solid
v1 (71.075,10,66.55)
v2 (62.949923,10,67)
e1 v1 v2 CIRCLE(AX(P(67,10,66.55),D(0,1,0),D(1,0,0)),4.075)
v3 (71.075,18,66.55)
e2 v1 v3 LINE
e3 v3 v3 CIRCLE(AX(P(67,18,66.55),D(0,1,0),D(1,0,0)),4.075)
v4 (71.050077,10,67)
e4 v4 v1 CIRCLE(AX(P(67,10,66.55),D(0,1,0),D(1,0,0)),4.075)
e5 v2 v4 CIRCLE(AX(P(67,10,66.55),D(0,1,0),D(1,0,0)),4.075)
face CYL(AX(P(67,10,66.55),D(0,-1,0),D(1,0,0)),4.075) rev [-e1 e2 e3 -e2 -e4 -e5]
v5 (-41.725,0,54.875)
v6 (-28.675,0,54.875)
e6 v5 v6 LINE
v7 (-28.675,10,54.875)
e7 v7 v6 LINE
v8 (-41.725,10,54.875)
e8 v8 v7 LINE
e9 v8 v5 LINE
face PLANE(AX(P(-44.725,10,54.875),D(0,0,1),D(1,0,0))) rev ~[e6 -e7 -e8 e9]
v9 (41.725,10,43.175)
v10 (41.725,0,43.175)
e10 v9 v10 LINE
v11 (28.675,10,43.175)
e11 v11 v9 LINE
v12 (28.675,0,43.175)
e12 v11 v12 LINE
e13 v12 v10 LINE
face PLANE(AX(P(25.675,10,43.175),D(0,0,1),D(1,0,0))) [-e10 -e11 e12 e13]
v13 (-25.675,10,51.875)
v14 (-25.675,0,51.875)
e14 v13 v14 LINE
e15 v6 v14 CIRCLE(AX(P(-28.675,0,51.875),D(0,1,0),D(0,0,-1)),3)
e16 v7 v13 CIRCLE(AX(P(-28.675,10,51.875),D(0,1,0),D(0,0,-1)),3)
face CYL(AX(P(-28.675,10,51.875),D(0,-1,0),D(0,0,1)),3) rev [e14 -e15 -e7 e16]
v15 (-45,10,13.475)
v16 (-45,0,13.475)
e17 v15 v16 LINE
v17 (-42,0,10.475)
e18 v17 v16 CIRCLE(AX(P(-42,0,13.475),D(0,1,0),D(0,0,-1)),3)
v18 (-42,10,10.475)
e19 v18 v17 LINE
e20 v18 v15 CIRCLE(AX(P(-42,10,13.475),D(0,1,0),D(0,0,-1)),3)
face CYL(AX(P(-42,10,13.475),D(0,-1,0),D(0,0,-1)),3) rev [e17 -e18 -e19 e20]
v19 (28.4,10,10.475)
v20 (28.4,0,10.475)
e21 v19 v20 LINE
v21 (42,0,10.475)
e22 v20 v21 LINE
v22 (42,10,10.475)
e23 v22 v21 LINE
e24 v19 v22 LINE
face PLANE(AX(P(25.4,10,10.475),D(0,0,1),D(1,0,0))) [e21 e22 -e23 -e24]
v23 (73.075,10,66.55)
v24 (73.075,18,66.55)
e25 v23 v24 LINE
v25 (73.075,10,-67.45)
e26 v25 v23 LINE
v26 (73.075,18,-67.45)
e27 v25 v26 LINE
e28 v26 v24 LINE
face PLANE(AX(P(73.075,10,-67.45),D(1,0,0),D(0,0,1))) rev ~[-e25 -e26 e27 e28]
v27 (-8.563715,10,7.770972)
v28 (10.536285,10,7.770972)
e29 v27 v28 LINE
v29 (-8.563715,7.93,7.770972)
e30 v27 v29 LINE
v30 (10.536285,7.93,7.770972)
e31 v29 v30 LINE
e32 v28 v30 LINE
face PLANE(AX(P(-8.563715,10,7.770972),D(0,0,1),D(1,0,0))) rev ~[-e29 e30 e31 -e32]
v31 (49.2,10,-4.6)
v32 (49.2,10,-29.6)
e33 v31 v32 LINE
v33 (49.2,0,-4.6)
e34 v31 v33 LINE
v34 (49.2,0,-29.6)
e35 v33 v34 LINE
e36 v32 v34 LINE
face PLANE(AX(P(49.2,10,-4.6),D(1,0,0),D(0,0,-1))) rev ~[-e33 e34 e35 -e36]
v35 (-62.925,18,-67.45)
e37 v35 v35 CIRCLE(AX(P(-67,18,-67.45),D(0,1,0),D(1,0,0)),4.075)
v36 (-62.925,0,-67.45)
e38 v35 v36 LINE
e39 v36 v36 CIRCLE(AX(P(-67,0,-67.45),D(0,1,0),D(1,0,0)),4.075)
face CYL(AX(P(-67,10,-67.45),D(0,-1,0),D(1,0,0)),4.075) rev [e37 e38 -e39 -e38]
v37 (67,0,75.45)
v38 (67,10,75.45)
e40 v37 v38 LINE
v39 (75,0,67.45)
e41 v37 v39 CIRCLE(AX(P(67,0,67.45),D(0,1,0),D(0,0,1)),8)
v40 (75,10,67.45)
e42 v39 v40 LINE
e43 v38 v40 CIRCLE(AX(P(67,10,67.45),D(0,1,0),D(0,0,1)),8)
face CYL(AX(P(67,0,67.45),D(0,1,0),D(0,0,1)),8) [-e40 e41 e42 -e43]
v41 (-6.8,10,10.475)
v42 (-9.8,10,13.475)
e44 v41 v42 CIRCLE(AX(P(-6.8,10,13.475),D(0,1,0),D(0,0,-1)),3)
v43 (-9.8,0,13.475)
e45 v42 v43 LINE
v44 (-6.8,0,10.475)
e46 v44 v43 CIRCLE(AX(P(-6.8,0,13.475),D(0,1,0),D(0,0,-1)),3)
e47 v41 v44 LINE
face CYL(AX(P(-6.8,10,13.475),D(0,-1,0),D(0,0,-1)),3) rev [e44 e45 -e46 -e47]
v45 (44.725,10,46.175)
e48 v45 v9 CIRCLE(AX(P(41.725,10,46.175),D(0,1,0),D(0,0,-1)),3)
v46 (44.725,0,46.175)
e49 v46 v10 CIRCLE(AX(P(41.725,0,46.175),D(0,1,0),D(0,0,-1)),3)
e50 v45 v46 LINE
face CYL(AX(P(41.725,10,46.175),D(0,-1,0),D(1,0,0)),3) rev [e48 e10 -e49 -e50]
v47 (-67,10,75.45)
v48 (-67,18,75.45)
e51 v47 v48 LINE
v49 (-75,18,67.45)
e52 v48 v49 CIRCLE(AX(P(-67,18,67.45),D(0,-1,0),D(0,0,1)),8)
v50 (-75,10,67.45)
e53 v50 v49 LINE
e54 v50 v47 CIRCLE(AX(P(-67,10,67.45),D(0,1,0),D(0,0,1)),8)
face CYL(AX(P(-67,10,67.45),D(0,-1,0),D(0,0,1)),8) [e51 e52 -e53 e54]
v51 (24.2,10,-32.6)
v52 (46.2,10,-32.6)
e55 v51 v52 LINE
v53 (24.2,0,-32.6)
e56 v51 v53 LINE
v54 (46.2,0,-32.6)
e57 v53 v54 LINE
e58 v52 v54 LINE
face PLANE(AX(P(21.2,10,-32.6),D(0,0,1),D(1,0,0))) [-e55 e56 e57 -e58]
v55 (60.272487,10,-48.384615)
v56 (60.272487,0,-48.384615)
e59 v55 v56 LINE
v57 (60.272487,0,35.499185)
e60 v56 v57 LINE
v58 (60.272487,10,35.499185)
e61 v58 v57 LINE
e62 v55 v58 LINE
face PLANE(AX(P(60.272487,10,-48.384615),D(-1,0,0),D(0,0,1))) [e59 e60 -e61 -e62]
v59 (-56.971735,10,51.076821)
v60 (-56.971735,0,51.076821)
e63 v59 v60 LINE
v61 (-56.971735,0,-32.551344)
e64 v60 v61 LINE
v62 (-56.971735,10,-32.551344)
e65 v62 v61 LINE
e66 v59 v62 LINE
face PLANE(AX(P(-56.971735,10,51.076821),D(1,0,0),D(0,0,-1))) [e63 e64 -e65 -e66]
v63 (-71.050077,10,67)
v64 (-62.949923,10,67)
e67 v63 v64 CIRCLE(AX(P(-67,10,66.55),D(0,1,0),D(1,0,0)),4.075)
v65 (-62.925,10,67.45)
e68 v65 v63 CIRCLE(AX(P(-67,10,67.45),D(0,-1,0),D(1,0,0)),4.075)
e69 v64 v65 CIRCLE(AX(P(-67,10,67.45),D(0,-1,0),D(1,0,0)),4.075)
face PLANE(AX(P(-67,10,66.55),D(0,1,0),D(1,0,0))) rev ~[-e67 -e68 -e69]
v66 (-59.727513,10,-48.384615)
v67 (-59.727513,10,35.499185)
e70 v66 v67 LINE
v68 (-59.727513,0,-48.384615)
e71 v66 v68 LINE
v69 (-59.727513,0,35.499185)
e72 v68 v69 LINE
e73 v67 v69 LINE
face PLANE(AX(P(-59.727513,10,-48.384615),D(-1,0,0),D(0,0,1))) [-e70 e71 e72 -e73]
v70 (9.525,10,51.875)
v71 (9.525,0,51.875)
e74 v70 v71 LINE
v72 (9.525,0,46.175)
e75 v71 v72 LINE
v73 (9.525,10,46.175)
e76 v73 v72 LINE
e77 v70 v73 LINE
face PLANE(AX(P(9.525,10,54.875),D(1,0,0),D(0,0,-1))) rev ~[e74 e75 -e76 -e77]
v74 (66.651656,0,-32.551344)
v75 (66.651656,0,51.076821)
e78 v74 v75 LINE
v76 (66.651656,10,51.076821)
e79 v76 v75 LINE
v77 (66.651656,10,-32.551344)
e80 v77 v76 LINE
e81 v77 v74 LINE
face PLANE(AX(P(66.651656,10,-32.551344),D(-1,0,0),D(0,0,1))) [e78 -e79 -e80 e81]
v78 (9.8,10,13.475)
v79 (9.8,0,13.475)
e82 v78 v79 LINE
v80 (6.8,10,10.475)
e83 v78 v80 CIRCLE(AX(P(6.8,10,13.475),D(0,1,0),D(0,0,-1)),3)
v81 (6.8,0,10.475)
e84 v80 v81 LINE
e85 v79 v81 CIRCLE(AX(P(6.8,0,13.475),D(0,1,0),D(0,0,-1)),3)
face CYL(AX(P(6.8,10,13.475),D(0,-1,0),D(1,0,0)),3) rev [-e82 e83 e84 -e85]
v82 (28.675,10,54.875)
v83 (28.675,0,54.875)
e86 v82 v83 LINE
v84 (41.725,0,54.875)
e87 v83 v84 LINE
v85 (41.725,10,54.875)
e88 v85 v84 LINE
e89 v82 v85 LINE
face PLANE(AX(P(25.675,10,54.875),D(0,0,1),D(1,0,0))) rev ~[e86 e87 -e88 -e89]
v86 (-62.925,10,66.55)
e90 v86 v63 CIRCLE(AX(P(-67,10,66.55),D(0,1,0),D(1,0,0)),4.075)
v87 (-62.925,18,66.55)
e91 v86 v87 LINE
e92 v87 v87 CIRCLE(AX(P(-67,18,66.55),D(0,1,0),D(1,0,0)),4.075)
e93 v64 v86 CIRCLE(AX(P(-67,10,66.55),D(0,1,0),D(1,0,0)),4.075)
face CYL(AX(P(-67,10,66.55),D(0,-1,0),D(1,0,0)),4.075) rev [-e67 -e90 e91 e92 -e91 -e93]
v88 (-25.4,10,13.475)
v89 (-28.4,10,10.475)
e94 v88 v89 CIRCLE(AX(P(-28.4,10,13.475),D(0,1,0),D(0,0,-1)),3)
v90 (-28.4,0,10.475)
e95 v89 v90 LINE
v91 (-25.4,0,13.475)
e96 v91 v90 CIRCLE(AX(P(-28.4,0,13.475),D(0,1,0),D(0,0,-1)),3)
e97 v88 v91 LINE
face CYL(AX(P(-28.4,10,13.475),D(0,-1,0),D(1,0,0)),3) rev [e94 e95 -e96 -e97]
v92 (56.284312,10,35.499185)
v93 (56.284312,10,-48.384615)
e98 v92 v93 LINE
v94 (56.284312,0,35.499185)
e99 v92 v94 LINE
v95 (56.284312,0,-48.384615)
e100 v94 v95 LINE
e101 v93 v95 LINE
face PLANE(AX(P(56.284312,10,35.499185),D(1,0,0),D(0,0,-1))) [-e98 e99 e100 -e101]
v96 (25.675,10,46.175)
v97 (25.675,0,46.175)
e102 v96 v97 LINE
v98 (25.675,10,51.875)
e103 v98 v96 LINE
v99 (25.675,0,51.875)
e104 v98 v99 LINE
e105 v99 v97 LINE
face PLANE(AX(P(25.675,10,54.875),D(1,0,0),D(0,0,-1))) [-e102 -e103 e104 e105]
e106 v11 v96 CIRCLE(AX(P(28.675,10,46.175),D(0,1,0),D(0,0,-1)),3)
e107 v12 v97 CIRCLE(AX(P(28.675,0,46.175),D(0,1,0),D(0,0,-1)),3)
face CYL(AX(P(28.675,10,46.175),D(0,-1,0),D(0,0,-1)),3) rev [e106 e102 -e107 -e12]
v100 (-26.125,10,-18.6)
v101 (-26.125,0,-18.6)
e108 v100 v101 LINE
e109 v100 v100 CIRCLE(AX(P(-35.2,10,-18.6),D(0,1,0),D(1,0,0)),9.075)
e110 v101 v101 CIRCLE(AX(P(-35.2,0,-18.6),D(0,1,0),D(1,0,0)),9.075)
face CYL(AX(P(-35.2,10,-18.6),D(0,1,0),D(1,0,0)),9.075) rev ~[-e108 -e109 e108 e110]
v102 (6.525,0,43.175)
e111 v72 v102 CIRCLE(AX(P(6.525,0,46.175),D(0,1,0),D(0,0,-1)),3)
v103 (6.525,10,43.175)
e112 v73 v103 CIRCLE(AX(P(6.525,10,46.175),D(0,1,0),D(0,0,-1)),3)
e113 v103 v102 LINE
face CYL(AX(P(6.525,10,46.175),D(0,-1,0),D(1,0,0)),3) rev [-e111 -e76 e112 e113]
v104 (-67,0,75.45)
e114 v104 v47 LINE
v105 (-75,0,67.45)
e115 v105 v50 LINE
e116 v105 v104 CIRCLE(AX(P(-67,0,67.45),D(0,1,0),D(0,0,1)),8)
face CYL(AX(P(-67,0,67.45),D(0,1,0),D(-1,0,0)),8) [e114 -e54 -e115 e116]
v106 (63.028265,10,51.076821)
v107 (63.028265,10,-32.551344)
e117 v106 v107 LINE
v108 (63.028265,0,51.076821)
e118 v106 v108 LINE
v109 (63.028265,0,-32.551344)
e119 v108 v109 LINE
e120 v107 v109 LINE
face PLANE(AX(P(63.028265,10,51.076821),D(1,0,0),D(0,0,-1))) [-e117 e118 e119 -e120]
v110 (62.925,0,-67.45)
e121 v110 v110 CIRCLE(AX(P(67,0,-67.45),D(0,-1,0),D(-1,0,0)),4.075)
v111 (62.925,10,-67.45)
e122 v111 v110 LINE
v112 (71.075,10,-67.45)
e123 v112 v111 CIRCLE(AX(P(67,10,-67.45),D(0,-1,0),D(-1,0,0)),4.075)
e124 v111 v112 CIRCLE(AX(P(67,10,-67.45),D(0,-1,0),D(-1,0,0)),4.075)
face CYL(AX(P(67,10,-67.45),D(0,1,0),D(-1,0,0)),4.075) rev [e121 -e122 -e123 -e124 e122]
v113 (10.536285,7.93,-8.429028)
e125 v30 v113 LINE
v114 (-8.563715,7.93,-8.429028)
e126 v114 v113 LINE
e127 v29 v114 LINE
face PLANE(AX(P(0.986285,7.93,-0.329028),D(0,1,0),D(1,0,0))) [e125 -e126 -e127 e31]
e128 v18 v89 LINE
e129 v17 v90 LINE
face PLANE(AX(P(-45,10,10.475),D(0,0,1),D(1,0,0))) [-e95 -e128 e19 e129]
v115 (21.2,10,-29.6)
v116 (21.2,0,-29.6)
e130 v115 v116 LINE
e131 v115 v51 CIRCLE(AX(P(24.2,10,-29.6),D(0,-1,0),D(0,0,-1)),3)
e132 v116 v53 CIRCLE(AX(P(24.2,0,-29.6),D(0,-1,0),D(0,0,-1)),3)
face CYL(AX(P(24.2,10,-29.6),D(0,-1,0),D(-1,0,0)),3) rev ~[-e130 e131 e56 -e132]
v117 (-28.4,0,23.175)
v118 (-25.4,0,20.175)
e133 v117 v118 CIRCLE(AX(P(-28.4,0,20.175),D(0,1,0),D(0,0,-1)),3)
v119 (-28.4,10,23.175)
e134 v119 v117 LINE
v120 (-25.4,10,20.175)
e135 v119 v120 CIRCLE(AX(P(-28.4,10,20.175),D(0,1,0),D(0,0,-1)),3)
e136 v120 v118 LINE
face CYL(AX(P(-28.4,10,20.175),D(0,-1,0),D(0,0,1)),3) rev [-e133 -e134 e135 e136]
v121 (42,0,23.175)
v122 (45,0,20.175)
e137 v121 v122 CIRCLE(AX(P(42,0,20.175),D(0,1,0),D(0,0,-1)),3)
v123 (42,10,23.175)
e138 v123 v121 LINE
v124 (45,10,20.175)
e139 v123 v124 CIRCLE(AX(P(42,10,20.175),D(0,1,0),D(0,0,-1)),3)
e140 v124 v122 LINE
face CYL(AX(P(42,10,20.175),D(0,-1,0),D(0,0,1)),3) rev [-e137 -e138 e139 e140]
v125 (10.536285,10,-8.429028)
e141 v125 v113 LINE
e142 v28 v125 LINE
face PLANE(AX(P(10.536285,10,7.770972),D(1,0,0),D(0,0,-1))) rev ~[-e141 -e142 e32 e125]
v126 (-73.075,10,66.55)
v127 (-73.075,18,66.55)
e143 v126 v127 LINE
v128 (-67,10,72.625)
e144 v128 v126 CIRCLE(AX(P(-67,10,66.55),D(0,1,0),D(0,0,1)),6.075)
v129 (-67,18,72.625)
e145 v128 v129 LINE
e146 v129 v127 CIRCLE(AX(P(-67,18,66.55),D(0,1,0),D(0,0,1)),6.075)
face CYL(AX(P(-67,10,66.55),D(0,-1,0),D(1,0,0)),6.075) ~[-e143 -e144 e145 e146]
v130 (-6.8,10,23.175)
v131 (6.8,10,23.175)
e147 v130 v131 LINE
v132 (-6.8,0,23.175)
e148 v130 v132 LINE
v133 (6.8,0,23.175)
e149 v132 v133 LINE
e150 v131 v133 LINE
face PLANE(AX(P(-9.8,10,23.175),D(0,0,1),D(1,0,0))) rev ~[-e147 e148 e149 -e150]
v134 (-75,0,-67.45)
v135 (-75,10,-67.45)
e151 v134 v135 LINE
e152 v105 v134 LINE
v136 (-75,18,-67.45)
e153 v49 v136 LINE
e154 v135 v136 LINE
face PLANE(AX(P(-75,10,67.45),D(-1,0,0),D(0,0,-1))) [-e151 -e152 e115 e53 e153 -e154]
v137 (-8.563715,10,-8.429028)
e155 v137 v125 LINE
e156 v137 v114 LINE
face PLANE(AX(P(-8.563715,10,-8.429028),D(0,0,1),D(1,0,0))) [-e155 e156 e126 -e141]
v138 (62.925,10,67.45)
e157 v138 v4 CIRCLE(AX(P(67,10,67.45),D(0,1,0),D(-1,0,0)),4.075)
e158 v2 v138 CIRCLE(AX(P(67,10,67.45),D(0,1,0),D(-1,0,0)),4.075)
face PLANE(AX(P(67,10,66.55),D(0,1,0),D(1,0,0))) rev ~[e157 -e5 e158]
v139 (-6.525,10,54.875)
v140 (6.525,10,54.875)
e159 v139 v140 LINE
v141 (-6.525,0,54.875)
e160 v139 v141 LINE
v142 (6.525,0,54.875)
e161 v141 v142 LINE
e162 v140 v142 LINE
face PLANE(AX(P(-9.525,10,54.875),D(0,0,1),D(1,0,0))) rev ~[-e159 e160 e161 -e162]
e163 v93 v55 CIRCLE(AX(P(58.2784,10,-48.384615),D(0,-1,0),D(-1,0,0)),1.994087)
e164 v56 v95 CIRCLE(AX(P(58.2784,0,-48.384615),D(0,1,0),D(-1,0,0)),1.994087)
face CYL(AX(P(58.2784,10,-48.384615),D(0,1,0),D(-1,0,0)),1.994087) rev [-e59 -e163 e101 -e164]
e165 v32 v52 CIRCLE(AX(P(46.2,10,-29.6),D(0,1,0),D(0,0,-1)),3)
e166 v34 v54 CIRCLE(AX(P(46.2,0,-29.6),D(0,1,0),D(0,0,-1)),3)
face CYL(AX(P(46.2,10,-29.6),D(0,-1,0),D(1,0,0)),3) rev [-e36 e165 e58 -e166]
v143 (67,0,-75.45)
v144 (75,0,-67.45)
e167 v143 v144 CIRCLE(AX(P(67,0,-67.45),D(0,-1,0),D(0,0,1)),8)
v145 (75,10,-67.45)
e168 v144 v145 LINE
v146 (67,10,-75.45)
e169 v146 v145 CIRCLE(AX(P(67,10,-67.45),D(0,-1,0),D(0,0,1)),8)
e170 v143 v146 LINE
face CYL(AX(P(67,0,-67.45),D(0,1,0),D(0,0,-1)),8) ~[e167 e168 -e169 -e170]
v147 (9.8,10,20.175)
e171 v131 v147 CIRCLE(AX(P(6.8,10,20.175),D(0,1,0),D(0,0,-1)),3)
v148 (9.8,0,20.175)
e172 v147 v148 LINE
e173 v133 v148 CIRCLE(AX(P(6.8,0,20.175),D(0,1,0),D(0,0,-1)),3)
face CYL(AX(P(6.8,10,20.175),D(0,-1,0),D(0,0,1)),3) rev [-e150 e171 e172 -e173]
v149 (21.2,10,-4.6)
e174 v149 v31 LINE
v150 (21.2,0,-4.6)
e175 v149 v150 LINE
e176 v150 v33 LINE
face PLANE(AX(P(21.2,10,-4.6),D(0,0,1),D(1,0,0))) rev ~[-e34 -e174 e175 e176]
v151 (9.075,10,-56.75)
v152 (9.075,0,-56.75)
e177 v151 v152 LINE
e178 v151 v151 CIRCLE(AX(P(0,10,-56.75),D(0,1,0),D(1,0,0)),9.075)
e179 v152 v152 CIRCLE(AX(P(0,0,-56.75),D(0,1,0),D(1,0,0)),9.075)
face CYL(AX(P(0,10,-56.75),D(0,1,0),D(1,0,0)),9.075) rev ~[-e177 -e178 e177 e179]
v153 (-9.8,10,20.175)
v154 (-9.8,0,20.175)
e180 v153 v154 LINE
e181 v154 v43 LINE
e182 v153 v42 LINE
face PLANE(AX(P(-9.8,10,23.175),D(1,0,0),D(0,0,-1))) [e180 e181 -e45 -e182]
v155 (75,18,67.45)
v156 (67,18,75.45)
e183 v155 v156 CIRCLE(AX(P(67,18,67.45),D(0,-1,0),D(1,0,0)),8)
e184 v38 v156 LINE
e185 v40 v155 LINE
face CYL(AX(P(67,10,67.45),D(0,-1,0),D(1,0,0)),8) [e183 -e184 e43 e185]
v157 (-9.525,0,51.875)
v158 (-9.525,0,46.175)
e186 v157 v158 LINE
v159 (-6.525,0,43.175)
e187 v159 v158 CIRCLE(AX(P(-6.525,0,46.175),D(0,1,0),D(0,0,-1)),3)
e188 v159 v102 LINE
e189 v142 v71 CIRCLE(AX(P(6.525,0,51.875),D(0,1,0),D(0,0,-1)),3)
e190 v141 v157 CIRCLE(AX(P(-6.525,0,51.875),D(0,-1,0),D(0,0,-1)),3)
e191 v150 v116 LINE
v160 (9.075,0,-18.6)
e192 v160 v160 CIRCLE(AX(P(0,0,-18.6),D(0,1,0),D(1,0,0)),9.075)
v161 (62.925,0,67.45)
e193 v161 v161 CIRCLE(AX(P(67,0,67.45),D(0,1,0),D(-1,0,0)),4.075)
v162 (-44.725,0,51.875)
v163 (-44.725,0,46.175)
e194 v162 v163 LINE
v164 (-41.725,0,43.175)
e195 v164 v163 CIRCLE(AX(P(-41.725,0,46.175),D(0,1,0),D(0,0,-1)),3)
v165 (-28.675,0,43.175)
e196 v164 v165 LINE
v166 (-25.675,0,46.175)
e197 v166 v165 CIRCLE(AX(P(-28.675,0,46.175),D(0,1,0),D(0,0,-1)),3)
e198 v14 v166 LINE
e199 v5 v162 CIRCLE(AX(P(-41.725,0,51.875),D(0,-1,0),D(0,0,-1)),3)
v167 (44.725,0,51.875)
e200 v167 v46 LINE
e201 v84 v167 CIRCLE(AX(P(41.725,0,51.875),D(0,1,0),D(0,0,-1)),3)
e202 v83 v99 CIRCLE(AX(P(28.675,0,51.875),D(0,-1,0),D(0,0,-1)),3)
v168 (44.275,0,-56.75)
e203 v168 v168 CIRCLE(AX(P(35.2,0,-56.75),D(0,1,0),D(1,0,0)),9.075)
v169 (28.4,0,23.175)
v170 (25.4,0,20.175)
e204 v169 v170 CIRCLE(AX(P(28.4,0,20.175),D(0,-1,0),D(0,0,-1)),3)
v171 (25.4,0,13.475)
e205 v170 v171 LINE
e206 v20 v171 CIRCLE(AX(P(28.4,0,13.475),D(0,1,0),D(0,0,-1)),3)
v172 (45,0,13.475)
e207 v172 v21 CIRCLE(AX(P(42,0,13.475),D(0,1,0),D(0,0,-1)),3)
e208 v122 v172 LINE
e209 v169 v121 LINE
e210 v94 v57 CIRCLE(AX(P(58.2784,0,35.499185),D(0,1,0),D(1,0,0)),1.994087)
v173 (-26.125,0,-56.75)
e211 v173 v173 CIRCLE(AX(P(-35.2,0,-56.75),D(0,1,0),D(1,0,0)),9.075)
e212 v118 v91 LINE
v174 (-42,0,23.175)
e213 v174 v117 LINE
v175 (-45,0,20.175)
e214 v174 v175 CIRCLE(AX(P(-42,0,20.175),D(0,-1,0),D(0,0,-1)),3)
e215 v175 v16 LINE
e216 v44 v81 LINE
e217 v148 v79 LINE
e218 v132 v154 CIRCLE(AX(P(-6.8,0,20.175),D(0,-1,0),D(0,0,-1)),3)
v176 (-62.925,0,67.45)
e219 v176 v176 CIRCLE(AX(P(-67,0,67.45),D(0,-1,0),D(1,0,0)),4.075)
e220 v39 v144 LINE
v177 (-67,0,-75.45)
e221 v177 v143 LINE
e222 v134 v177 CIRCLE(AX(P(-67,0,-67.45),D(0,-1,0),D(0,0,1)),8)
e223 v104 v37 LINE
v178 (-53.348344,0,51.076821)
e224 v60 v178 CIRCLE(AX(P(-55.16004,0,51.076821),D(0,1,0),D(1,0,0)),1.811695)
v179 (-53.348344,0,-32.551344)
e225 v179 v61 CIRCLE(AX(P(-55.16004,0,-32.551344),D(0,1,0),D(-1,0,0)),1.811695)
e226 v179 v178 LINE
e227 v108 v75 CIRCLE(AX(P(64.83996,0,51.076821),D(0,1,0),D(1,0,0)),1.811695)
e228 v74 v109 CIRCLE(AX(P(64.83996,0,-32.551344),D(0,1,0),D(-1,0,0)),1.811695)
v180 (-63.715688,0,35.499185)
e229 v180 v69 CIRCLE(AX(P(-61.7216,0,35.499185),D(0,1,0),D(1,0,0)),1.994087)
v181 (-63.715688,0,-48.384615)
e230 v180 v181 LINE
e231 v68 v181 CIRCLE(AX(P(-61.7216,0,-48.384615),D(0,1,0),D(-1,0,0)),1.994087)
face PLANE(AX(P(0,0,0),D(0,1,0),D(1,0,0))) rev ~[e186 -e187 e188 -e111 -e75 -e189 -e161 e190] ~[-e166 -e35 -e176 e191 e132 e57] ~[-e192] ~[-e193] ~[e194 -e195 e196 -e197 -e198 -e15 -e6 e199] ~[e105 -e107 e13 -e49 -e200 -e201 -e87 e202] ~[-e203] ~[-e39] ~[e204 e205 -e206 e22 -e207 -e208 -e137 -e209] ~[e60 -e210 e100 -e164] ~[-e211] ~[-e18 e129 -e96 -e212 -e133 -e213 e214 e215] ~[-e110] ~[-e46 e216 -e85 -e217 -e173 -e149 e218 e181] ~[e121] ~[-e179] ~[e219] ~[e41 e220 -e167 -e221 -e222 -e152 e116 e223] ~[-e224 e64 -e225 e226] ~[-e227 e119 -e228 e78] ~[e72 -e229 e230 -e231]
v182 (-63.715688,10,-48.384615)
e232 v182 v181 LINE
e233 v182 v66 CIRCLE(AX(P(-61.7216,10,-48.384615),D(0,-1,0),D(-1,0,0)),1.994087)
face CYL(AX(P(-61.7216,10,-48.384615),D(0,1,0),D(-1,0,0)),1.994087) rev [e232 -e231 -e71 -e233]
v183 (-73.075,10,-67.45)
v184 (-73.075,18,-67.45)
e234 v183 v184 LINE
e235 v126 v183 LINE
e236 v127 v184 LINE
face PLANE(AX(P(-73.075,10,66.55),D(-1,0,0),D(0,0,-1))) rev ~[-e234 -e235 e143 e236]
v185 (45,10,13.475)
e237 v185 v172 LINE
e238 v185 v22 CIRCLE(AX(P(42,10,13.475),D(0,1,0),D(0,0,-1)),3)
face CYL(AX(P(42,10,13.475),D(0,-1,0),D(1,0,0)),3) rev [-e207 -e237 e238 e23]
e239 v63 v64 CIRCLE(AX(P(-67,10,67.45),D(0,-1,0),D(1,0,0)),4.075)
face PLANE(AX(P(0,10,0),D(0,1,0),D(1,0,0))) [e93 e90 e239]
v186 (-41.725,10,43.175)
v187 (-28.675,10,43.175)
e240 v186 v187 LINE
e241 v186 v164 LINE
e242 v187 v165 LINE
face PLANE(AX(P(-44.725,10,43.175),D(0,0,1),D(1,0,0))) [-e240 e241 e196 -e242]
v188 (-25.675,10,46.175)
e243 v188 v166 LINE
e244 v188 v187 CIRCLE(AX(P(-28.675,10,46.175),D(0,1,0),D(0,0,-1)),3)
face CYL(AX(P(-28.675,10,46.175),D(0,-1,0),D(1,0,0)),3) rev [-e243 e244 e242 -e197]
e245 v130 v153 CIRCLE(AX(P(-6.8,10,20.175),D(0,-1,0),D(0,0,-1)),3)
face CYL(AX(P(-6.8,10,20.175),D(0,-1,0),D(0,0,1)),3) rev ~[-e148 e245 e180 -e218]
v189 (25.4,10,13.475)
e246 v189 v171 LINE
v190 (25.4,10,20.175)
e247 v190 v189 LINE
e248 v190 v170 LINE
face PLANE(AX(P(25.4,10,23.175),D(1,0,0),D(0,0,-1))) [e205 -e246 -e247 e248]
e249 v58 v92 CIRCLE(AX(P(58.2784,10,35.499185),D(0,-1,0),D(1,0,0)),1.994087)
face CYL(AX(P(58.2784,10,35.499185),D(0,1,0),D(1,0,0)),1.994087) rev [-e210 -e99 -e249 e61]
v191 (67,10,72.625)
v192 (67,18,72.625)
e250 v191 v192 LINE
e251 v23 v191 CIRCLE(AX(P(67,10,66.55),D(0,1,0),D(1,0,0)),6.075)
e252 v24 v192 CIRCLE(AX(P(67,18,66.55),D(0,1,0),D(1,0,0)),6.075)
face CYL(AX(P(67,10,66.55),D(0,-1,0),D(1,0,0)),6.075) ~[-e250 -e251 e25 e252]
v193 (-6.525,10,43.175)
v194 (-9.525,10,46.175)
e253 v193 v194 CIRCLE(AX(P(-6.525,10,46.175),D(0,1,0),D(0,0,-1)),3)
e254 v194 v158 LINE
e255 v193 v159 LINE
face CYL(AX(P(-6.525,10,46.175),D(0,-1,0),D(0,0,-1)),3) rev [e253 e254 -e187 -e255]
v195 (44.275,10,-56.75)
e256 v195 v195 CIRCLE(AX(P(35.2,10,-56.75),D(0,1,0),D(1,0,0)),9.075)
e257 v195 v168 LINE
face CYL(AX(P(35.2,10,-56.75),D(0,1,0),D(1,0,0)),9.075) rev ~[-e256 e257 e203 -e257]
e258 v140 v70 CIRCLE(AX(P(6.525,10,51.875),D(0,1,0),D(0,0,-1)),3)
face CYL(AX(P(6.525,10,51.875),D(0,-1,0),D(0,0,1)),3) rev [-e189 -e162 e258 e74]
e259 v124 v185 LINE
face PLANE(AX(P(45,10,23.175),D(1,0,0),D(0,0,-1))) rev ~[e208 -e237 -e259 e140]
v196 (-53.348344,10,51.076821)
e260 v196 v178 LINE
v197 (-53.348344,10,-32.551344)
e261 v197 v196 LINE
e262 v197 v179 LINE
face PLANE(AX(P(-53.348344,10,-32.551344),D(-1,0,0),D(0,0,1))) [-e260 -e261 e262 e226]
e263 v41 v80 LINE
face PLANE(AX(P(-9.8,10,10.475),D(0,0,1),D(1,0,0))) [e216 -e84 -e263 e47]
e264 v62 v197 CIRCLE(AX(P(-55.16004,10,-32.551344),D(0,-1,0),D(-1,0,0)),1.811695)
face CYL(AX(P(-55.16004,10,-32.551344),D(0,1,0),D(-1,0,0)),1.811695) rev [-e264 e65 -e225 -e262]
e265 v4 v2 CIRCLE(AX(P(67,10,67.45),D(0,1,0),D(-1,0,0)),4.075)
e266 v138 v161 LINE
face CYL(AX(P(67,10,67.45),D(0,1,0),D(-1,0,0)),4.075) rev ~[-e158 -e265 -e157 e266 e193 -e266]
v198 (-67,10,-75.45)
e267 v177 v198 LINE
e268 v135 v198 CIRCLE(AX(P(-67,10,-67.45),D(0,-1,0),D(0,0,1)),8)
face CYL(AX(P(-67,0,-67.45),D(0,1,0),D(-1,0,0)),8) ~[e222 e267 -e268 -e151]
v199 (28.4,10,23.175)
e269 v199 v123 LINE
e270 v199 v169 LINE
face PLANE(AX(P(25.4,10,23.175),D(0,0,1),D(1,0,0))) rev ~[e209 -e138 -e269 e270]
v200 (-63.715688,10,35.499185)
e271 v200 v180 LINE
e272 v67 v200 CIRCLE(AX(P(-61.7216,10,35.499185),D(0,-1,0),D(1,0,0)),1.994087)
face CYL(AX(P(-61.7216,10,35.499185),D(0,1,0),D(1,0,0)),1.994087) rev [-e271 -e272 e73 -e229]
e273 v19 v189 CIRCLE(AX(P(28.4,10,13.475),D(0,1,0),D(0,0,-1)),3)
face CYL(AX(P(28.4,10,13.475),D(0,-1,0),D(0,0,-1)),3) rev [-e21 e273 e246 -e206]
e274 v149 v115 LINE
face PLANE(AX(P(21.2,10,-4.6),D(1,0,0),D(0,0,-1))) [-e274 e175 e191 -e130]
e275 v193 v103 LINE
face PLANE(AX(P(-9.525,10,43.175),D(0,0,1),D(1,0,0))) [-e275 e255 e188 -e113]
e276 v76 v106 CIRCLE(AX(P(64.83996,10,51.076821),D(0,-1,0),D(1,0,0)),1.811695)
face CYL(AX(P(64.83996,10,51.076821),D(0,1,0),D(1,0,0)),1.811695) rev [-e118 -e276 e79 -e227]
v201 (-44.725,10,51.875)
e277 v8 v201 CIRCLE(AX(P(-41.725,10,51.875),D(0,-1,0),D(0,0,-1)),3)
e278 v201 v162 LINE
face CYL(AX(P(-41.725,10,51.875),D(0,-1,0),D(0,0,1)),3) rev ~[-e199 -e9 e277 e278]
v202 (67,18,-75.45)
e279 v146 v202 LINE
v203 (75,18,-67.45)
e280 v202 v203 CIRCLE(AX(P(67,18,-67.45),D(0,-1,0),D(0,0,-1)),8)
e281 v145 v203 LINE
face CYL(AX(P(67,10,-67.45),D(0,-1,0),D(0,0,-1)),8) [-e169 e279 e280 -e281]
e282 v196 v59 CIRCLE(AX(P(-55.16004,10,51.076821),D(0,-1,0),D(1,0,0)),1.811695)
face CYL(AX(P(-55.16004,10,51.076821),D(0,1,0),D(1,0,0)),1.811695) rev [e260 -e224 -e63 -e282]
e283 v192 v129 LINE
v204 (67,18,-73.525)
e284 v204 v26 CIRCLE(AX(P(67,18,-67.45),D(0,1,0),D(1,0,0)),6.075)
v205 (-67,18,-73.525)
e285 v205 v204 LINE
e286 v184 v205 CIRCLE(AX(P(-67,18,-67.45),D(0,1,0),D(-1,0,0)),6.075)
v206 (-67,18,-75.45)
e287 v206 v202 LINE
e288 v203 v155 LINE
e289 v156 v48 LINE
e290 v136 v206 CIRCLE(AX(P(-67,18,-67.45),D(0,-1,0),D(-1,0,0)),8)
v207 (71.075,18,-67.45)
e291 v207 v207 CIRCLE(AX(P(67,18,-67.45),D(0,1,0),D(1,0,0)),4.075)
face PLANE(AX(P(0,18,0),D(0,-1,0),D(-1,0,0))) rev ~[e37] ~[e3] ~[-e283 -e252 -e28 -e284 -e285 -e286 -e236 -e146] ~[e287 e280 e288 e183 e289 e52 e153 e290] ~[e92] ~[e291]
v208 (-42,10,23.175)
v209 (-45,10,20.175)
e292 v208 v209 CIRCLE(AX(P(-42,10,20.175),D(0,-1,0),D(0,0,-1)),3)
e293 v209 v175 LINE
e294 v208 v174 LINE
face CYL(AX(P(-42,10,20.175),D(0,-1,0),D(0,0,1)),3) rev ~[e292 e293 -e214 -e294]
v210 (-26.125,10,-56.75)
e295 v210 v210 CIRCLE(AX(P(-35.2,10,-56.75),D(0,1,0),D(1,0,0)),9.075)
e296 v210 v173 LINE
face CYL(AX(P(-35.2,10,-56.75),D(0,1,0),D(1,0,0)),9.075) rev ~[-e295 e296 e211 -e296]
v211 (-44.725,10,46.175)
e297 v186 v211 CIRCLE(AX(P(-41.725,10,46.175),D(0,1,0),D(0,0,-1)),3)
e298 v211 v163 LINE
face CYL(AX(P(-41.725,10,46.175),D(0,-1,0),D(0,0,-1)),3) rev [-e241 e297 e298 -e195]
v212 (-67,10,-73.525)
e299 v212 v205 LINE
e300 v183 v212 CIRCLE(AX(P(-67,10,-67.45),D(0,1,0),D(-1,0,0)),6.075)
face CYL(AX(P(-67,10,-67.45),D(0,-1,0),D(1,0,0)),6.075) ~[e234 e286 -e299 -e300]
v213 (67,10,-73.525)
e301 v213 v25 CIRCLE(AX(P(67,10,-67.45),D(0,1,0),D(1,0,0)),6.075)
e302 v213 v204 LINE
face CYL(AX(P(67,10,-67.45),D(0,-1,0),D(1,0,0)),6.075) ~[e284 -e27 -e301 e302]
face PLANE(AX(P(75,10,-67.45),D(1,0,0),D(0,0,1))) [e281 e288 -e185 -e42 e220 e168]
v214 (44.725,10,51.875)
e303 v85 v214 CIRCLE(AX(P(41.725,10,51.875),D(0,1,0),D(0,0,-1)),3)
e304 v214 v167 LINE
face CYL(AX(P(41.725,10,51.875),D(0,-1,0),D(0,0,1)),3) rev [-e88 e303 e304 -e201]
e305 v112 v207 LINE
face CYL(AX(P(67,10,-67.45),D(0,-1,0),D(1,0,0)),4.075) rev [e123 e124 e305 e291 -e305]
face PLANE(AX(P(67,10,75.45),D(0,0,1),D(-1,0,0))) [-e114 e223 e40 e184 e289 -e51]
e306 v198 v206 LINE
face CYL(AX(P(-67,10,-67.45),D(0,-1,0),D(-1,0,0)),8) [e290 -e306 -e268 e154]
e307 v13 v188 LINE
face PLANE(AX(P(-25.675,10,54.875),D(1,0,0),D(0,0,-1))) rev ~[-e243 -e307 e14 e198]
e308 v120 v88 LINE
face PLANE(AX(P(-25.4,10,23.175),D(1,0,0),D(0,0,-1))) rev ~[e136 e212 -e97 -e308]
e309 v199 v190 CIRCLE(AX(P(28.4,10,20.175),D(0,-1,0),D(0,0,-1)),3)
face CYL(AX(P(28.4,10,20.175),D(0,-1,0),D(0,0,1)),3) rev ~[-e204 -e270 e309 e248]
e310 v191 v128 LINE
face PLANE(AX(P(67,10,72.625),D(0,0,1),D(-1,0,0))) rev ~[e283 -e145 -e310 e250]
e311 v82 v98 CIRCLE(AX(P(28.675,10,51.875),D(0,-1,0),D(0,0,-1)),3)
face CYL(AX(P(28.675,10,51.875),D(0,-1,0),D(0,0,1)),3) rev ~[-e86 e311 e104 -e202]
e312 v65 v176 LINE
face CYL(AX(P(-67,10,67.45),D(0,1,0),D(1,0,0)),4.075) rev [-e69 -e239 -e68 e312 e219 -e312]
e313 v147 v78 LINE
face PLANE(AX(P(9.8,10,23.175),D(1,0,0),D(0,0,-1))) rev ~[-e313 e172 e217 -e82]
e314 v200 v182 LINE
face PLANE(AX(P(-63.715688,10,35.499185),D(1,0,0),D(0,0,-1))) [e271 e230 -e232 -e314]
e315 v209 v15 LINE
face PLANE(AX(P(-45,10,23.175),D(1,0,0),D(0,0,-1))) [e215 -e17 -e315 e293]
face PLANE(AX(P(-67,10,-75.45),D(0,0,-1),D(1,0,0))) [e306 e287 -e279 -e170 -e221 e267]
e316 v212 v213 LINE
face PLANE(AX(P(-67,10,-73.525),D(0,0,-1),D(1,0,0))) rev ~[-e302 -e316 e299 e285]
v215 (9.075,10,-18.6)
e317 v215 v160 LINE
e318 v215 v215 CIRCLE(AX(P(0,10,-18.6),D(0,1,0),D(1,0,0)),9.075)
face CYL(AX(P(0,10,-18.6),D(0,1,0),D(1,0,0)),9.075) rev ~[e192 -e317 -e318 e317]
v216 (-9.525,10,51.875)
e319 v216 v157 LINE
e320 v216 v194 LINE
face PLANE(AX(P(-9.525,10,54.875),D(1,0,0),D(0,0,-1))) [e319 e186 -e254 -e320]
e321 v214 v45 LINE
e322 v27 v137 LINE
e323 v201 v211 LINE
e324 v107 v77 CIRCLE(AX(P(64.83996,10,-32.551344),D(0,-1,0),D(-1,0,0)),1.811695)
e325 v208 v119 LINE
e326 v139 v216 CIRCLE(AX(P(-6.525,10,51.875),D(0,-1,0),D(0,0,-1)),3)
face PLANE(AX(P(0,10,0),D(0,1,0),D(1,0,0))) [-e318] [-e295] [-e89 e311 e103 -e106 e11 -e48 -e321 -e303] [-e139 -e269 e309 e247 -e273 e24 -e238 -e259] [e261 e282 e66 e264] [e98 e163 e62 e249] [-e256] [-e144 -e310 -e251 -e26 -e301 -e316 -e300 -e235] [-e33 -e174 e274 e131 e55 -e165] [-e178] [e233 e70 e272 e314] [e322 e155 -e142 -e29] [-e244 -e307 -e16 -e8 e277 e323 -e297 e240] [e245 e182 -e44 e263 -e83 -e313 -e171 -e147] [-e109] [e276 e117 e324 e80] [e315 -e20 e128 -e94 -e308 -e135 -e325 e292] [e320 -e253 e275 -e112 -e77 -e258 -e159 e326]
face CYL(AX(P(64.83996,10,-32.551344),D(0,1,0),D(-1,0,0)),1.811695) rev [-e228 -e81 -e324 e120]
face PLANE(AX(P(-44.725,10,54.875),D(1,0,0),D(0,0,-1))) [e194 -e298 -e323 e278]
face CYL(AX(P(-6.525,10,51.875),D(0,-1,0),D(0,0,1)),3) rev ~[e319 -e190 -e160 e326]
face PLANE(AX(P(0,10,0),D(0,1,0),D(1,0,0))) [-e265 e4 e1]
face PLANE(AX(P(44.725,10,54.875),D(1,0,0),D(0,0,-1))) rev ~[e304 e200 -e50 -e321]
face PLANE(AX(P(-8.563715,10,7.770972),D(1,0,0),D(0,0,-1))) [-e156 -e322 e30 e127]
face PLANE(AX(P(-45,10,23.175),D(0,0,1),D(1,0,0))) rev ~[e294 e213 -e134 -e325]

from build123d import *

# Parameters (mm, degrees)
SKETCH1_W                   = 150
SKETCH1_H                   = 150.9
BOSS_EXTRUDE1_DEPTH         = 10
SKETCH2_R                   = 9.075
SKETCH2_W                   = 19.6
SKETCH2_H                   = 12.7
SKETCH2_W_2                 = 19.05
SKETCH2_H_2                 = 11.7
SKETCH2_W_3                 = 28
SKETCH2_H_3                 = 28
CUT_EXTRUDE1_DEPTH          = 10
FILLET1_R                   = 8
FILLET2_R                   = 3
SKETCH5_R                   = 4.075
CUT_EXTRUDE4_DEPTH          = 10
MIRROR3_COPY_1_SKETCH_R     = 4.075
MIRROR3_COPY_1_DEPTH        = 10
FILLET6_R                   = 3
CUT_EXTRUDE6_DEPTH          = 11
LPATTERN3_COUNT             = 2
LPATTERN3_PITCH             = 120
SKETCH9_R                   = 6.075
SKETCH9_R_2                 = 4.075
BOSS_EXTRUDE2_DEPTH         = 8
LPATTERN4_COUNT             = 2
LPATTERN4_PITCH             = 134
LPATTERN5_COUNT             = 2
LPATTERN5_PITCH             = 134
LPATTERN5_COPY_1_SKETCH_R   = 6.075
LPATTERN5_COPY_1_SKETCH_R_2 = 4.075
LPATTERN5_COPY_1_DEPTH      = 8
BOSS_EXTRUDE4_DEPTH         = 8
SKETCH12_W                  = 19.1
SKETCH12_H                  = 16.2
CUT_EXTRUDE7_DEPTH          = 2.07


with BuildPart() as part:
    # Sketch1 → Boss-Extrude1 (new body)
    with BuildSketch(Plane(origin=(0, 0, 0), x_dir=(1, 0, 0), z_dir=(0, 1, 0))):
        Rectangle(SKETCH1_W, SKETCH1_H)
    extrude(amount=BOSS_EXTRUDE1_DEPTH)

    # Sketch2 → Cut-Extrude1 (cut)
    with BuildSketch(Plane(origin=(0, 10, 0), x_dir=(1, 0, 0), z_dir=(0, 1, 0))):
        with Locations((-35.2, 56.75)):
            Circle(SKETCH2_R)
        with Locations((0, 56.75)):
            Circle(SKETCH2_R)
        with Locations((35.2, 56.75)):
            Circle(SKETCH2_R)
        with Locations((-35.2, 18.6)):
            Circle(SKETCH2_R)
        with Locations((0, 18.6)):
            Circle(SKETCH2_R)
        with Locations((0, -16.825)):
            Rectangle(SKETCH2_W, SKETCH2_H)
        with Locations((-35.2, -16.825)):
            Rectangle(SKETCH2_W, SKETCH2_H)
        with Locations((35.2, -16.825)):
            Rectangle(SKETCH2_W, SKETCH2_H)
        with Locations((-35.2, -49.025)):
            Rectangle(SKETCH2_W_2, SKETCH2_H_2)
        with Locations((0, -49.025)):
            Rectangle(SKETCH2_W_2, SKETCH2_H_2)
        with Locations((35.2, -49.025)):
            Rectangle(SKETCH2_W_2, SKETCH2_H_2)
        with Locations((35.2, 18.6)):
            Rectangle(SKETCH2_W_3, SKETCH2_H_3)
    extrude(amount=-CUT_EXTRUDE1_DEPTH, mode=Mode.SUBTRACT)

    # Fillet1
    fillet1_edges = [part.edges().sort_by_distance(p)[0] for p in [
        (75, 5, 75.45),
        (-75, 5, 75.45),
        (-75, 5, -75.45),
        (75, 5, -75.45),
    ]]
    fillet(fillet1_edges, radius=FILLET1_R)

    # Fillet2
    fillet2_edges = [part.edges().sort_by_distance(p)[0] for p in [
        (25.4, 5, 23.175),
        (25.4, 5, 10.475),
        (45, 5, 10.475),
        (45, 5, 23.175),
        (-44.725, 5, 54.875),
        (-44.725, 5, 43.175),
        (-25.675, 5, 43.175),
        (-25.675, 5, 54.875),
        (-9.525, 5, 54.875),
        (-9.525, 5, 43.175),
        (9.525, 5, 43.175),
        (9.525, 5, 54.875),
        (25.675, 5, 54.875),
        (25.675, 5, 43.175),
        (44.725, 5, 43.175),
        (44.725, 5, 54.875),
        (-9.8, 5, 23.175),
        (-9.8, 5, 10.475),
        (9.8, 5, 10.475),
        (9.8, 5, 23.175),
        (-45, 5, 23.175),
        (-45, 5, 10.475),
        (-25.4, 5, 10.475),
        (-25.4, 5, 23.175),
    ]]
    fillet(fillet2_edges, radius=FILLET2_R)

    # Sketch5 → Cut-Extrude4 (cut)
    with BuildSketch(Plane(origin=(0, 10, 0), x_dir=(1, 0, 0), z_dir=(0, 1, 0))):
        with Locations((-67, 67.45)):
            Circle(SKETCH5_R)
    cut_extrude4 = extrude(amount=-CUT_EXTRUDE4_DEPTH, mode=Mode.SUBTRACT)

    # Mirror1: Cut-Extrude4 across plane
    add(cut_extrude4.mirror(Plane.XY), mode=Mode.SUBTRACT)

    # Mirror3: Cut-Extrude4 across plane
    add(cut_extrude4.mirror(Plane(origin=(0, 0, 0), x_dir=(0, 0, 1), z_dir=(1, 0, 0))), mode=Mode.SUBTRACT)

    # Mirror3 copy 1 sketch → Mirror3 copy 1 (cut)
    with BuildSketch(Plane(origin=(0, 10, 0), x_dir=(-1, 0, 0), z_dir=(0, 1, 0))):
        with Locations((-67, 67.45)):
            Circle(MIRROR3_COPY_1_SKETCH_R)
    extrude(amount=-MIRROR3_COPY_1_DEPTH, mode=Mode.SUBTRACT)

    # Fillet6
    fillet6_edges = [part.edges().sort_by_distance(p)[0] for p in [
        (21.2, 5, -32.6),
        (49.2, 5, -32.6),
    ]]
    fillet(fillet6_edges, radius=FILLET6_R)

    # Sketch7 → Cut-Extrude6 (cut, through all)
    with BuildSketch(Plane(origin=(0, 10, 0), x_dir=(1, 0, 0), z_dir=(0, 1, 0))):
        with BuildLine():
            Line((60.272487235, 48.384614922), (60.272487235, -35.499184585))
            ThreePointArc((60.272487235, -35.499184585), (58.278399823, -37.493271997), (56.284312411, -35.499184585))
            Line((56.284312411, -35.499184585), (56.284312411, 48.384614922))
            ThreePointArc((56.284312411, 48.384614922), (58.278399823, 50.378702334), (60.272487235, 48.384614922))
        make_face()
        with BuildLine():
            Line((66.651655516, 32.551344452), (66.651655516, -51.076821304))
            ThreePointArc((66.651655516, -51.076821304), (64.83996028, -52.88851654), (63.028265044, -51.076821304))
            Line((63.028265044, -51.076821304), (63.028265044, 32.551344452))
            ThreePointArc((63.028265044, 32.551344452), (64.83996028, 34.363039688), (66.651655516, 32.551344452))
        make_face()
    cut_extrude6 = extrude(amount=-CUT_EXTRUDE6_DEPTH, mode=Mode.SUBTRACT)

    # LPattern3: Cut-Extrude6 ×2
    with Locations(*[(-i * LPATTERN3_PITCH, 0, 0) for i in range(1, LPATTERN3_COUNT)]):
        add(cut_extrude6, mode=Mode.SUBTRACT)

    # Sketch9 → Boss-Extrude2 (add)
    with BuildSketch(Plane(origin=(0, 10, 0), x_dir=(1, 0, 0), z_dir=(0, 1, 0))):
        with Locations((-67, 67.45)):
            Circle(SKETCH9_R)
        with Locations((-67, 67.45)):
            Circle(SKETCH9_R_2, mode=Mode.SUBTRACT)
    boss_extrude2 = extrude(amount=BOSS_EXTRUDE2_DEPTH)

    # LPattern4: Boss-Extrude2 ×2
    with Locations(*[(i * LPATTERN4_PITCH, 0, 0) for i in range(1, LPATTERN4_COUNT)]):
        add(boss_extrude2)

    # LPattern5: Boss-Extrude2 ×2
    with Locations(*[(0, 0, i * LPATTERN5_PITCH) for i in range(1, LPATTERN5_COUNT)]):
        add(boss_extrude2)

    # LPattern5 copy 1 sketch → LPattern5 copy 1 (add)
    with BuildSketch(Plane(origin=(134, 10, 134), x_dir=(1, 0, 0), z_dir=(0, 1, 0))):
        with Locations((-67, 67.45)):
            Circle(LPATTERN5_COPY_1_SKETCH_R)
        with Locations((-67, 67.45)):
            Circle(LPATTERN5_COPY_1_SKETCH_R_2, mode=Mode.SUBTRACT)
    extrude(amount=LPATTERN5_COPY_1_DEPTH)

    # Sketch10 → Boss-Extrude4 (add)
    with BuildSketch(Plane(origin=(0, 10, 0), x_dir=(1, 0, 0), z_dir=(0, 1, 0))):
        with BuildLine():
            Line((-67, 75.45), (67, 75.45))
            ThreePointArc((67, 75.45), (72.656854249, 73.106854249), (75, 67.45))
            Line((75, 67.45), (75, -67.45))
            ThreePointArc((75, -67.45), (72.656854249, -73.106854249), (67, -75.45))
            Line((67, -75.45), (-67, -75.45))
            ThreePointArc((-67, -75.45), (-72.656854249, -73.106854249), (-75, -67.45))
            Line((-75, -67.45), (-75, 67.45))
            ThreePointArc((-75, 67.45), (-72.656854249, 73.106854249), (-67, 75.45))
        make_face()
        with BuildLine():
            Line((-67, 73.525), (67, 73.525))
            ThreePointArc((67, 73.525), (71.295673696, 71.745673696), (73.075, 67.45))
            Line((73.075, 67.45), (73.075, -66.55))
            ThreePointArc((73.075, -66.55), (71.295673696, -70.845673696), (67, -72.625))
            Line((67, -72.625), (-67, -72.625))
            ThreePointArc((-67, -72.625), (-71.295673696, -70.845673696), (-73.075, -66.55))
            Line((-73.075, -66.55), (-73.075, 67.45))
            ThreePointArc((-73.075, 67.45), (-71.295673696, 71.745673696), (-67, 73.525))
        make_face(mode=Mode.SUBTRACT)
    extrude(amount=BOSS_EXTRUDE4_DEPTH)

    # Sketch12 → Cut-Extrude7 (cut)
    with BuildSketch(Plane(origin=(0, 10, 0), x_dir=(1, 0, 0), z_dir=(0, 1, 0))):
        with Locations((0.98628476, 0.329027808)):
            Rectangle(SKETCH12_W, SKETCH12_H)
    extrude(amount=-CUT_EXTRUDE7_DEPTH, mode=Mode.SUBTRACT)


solid = part.part
